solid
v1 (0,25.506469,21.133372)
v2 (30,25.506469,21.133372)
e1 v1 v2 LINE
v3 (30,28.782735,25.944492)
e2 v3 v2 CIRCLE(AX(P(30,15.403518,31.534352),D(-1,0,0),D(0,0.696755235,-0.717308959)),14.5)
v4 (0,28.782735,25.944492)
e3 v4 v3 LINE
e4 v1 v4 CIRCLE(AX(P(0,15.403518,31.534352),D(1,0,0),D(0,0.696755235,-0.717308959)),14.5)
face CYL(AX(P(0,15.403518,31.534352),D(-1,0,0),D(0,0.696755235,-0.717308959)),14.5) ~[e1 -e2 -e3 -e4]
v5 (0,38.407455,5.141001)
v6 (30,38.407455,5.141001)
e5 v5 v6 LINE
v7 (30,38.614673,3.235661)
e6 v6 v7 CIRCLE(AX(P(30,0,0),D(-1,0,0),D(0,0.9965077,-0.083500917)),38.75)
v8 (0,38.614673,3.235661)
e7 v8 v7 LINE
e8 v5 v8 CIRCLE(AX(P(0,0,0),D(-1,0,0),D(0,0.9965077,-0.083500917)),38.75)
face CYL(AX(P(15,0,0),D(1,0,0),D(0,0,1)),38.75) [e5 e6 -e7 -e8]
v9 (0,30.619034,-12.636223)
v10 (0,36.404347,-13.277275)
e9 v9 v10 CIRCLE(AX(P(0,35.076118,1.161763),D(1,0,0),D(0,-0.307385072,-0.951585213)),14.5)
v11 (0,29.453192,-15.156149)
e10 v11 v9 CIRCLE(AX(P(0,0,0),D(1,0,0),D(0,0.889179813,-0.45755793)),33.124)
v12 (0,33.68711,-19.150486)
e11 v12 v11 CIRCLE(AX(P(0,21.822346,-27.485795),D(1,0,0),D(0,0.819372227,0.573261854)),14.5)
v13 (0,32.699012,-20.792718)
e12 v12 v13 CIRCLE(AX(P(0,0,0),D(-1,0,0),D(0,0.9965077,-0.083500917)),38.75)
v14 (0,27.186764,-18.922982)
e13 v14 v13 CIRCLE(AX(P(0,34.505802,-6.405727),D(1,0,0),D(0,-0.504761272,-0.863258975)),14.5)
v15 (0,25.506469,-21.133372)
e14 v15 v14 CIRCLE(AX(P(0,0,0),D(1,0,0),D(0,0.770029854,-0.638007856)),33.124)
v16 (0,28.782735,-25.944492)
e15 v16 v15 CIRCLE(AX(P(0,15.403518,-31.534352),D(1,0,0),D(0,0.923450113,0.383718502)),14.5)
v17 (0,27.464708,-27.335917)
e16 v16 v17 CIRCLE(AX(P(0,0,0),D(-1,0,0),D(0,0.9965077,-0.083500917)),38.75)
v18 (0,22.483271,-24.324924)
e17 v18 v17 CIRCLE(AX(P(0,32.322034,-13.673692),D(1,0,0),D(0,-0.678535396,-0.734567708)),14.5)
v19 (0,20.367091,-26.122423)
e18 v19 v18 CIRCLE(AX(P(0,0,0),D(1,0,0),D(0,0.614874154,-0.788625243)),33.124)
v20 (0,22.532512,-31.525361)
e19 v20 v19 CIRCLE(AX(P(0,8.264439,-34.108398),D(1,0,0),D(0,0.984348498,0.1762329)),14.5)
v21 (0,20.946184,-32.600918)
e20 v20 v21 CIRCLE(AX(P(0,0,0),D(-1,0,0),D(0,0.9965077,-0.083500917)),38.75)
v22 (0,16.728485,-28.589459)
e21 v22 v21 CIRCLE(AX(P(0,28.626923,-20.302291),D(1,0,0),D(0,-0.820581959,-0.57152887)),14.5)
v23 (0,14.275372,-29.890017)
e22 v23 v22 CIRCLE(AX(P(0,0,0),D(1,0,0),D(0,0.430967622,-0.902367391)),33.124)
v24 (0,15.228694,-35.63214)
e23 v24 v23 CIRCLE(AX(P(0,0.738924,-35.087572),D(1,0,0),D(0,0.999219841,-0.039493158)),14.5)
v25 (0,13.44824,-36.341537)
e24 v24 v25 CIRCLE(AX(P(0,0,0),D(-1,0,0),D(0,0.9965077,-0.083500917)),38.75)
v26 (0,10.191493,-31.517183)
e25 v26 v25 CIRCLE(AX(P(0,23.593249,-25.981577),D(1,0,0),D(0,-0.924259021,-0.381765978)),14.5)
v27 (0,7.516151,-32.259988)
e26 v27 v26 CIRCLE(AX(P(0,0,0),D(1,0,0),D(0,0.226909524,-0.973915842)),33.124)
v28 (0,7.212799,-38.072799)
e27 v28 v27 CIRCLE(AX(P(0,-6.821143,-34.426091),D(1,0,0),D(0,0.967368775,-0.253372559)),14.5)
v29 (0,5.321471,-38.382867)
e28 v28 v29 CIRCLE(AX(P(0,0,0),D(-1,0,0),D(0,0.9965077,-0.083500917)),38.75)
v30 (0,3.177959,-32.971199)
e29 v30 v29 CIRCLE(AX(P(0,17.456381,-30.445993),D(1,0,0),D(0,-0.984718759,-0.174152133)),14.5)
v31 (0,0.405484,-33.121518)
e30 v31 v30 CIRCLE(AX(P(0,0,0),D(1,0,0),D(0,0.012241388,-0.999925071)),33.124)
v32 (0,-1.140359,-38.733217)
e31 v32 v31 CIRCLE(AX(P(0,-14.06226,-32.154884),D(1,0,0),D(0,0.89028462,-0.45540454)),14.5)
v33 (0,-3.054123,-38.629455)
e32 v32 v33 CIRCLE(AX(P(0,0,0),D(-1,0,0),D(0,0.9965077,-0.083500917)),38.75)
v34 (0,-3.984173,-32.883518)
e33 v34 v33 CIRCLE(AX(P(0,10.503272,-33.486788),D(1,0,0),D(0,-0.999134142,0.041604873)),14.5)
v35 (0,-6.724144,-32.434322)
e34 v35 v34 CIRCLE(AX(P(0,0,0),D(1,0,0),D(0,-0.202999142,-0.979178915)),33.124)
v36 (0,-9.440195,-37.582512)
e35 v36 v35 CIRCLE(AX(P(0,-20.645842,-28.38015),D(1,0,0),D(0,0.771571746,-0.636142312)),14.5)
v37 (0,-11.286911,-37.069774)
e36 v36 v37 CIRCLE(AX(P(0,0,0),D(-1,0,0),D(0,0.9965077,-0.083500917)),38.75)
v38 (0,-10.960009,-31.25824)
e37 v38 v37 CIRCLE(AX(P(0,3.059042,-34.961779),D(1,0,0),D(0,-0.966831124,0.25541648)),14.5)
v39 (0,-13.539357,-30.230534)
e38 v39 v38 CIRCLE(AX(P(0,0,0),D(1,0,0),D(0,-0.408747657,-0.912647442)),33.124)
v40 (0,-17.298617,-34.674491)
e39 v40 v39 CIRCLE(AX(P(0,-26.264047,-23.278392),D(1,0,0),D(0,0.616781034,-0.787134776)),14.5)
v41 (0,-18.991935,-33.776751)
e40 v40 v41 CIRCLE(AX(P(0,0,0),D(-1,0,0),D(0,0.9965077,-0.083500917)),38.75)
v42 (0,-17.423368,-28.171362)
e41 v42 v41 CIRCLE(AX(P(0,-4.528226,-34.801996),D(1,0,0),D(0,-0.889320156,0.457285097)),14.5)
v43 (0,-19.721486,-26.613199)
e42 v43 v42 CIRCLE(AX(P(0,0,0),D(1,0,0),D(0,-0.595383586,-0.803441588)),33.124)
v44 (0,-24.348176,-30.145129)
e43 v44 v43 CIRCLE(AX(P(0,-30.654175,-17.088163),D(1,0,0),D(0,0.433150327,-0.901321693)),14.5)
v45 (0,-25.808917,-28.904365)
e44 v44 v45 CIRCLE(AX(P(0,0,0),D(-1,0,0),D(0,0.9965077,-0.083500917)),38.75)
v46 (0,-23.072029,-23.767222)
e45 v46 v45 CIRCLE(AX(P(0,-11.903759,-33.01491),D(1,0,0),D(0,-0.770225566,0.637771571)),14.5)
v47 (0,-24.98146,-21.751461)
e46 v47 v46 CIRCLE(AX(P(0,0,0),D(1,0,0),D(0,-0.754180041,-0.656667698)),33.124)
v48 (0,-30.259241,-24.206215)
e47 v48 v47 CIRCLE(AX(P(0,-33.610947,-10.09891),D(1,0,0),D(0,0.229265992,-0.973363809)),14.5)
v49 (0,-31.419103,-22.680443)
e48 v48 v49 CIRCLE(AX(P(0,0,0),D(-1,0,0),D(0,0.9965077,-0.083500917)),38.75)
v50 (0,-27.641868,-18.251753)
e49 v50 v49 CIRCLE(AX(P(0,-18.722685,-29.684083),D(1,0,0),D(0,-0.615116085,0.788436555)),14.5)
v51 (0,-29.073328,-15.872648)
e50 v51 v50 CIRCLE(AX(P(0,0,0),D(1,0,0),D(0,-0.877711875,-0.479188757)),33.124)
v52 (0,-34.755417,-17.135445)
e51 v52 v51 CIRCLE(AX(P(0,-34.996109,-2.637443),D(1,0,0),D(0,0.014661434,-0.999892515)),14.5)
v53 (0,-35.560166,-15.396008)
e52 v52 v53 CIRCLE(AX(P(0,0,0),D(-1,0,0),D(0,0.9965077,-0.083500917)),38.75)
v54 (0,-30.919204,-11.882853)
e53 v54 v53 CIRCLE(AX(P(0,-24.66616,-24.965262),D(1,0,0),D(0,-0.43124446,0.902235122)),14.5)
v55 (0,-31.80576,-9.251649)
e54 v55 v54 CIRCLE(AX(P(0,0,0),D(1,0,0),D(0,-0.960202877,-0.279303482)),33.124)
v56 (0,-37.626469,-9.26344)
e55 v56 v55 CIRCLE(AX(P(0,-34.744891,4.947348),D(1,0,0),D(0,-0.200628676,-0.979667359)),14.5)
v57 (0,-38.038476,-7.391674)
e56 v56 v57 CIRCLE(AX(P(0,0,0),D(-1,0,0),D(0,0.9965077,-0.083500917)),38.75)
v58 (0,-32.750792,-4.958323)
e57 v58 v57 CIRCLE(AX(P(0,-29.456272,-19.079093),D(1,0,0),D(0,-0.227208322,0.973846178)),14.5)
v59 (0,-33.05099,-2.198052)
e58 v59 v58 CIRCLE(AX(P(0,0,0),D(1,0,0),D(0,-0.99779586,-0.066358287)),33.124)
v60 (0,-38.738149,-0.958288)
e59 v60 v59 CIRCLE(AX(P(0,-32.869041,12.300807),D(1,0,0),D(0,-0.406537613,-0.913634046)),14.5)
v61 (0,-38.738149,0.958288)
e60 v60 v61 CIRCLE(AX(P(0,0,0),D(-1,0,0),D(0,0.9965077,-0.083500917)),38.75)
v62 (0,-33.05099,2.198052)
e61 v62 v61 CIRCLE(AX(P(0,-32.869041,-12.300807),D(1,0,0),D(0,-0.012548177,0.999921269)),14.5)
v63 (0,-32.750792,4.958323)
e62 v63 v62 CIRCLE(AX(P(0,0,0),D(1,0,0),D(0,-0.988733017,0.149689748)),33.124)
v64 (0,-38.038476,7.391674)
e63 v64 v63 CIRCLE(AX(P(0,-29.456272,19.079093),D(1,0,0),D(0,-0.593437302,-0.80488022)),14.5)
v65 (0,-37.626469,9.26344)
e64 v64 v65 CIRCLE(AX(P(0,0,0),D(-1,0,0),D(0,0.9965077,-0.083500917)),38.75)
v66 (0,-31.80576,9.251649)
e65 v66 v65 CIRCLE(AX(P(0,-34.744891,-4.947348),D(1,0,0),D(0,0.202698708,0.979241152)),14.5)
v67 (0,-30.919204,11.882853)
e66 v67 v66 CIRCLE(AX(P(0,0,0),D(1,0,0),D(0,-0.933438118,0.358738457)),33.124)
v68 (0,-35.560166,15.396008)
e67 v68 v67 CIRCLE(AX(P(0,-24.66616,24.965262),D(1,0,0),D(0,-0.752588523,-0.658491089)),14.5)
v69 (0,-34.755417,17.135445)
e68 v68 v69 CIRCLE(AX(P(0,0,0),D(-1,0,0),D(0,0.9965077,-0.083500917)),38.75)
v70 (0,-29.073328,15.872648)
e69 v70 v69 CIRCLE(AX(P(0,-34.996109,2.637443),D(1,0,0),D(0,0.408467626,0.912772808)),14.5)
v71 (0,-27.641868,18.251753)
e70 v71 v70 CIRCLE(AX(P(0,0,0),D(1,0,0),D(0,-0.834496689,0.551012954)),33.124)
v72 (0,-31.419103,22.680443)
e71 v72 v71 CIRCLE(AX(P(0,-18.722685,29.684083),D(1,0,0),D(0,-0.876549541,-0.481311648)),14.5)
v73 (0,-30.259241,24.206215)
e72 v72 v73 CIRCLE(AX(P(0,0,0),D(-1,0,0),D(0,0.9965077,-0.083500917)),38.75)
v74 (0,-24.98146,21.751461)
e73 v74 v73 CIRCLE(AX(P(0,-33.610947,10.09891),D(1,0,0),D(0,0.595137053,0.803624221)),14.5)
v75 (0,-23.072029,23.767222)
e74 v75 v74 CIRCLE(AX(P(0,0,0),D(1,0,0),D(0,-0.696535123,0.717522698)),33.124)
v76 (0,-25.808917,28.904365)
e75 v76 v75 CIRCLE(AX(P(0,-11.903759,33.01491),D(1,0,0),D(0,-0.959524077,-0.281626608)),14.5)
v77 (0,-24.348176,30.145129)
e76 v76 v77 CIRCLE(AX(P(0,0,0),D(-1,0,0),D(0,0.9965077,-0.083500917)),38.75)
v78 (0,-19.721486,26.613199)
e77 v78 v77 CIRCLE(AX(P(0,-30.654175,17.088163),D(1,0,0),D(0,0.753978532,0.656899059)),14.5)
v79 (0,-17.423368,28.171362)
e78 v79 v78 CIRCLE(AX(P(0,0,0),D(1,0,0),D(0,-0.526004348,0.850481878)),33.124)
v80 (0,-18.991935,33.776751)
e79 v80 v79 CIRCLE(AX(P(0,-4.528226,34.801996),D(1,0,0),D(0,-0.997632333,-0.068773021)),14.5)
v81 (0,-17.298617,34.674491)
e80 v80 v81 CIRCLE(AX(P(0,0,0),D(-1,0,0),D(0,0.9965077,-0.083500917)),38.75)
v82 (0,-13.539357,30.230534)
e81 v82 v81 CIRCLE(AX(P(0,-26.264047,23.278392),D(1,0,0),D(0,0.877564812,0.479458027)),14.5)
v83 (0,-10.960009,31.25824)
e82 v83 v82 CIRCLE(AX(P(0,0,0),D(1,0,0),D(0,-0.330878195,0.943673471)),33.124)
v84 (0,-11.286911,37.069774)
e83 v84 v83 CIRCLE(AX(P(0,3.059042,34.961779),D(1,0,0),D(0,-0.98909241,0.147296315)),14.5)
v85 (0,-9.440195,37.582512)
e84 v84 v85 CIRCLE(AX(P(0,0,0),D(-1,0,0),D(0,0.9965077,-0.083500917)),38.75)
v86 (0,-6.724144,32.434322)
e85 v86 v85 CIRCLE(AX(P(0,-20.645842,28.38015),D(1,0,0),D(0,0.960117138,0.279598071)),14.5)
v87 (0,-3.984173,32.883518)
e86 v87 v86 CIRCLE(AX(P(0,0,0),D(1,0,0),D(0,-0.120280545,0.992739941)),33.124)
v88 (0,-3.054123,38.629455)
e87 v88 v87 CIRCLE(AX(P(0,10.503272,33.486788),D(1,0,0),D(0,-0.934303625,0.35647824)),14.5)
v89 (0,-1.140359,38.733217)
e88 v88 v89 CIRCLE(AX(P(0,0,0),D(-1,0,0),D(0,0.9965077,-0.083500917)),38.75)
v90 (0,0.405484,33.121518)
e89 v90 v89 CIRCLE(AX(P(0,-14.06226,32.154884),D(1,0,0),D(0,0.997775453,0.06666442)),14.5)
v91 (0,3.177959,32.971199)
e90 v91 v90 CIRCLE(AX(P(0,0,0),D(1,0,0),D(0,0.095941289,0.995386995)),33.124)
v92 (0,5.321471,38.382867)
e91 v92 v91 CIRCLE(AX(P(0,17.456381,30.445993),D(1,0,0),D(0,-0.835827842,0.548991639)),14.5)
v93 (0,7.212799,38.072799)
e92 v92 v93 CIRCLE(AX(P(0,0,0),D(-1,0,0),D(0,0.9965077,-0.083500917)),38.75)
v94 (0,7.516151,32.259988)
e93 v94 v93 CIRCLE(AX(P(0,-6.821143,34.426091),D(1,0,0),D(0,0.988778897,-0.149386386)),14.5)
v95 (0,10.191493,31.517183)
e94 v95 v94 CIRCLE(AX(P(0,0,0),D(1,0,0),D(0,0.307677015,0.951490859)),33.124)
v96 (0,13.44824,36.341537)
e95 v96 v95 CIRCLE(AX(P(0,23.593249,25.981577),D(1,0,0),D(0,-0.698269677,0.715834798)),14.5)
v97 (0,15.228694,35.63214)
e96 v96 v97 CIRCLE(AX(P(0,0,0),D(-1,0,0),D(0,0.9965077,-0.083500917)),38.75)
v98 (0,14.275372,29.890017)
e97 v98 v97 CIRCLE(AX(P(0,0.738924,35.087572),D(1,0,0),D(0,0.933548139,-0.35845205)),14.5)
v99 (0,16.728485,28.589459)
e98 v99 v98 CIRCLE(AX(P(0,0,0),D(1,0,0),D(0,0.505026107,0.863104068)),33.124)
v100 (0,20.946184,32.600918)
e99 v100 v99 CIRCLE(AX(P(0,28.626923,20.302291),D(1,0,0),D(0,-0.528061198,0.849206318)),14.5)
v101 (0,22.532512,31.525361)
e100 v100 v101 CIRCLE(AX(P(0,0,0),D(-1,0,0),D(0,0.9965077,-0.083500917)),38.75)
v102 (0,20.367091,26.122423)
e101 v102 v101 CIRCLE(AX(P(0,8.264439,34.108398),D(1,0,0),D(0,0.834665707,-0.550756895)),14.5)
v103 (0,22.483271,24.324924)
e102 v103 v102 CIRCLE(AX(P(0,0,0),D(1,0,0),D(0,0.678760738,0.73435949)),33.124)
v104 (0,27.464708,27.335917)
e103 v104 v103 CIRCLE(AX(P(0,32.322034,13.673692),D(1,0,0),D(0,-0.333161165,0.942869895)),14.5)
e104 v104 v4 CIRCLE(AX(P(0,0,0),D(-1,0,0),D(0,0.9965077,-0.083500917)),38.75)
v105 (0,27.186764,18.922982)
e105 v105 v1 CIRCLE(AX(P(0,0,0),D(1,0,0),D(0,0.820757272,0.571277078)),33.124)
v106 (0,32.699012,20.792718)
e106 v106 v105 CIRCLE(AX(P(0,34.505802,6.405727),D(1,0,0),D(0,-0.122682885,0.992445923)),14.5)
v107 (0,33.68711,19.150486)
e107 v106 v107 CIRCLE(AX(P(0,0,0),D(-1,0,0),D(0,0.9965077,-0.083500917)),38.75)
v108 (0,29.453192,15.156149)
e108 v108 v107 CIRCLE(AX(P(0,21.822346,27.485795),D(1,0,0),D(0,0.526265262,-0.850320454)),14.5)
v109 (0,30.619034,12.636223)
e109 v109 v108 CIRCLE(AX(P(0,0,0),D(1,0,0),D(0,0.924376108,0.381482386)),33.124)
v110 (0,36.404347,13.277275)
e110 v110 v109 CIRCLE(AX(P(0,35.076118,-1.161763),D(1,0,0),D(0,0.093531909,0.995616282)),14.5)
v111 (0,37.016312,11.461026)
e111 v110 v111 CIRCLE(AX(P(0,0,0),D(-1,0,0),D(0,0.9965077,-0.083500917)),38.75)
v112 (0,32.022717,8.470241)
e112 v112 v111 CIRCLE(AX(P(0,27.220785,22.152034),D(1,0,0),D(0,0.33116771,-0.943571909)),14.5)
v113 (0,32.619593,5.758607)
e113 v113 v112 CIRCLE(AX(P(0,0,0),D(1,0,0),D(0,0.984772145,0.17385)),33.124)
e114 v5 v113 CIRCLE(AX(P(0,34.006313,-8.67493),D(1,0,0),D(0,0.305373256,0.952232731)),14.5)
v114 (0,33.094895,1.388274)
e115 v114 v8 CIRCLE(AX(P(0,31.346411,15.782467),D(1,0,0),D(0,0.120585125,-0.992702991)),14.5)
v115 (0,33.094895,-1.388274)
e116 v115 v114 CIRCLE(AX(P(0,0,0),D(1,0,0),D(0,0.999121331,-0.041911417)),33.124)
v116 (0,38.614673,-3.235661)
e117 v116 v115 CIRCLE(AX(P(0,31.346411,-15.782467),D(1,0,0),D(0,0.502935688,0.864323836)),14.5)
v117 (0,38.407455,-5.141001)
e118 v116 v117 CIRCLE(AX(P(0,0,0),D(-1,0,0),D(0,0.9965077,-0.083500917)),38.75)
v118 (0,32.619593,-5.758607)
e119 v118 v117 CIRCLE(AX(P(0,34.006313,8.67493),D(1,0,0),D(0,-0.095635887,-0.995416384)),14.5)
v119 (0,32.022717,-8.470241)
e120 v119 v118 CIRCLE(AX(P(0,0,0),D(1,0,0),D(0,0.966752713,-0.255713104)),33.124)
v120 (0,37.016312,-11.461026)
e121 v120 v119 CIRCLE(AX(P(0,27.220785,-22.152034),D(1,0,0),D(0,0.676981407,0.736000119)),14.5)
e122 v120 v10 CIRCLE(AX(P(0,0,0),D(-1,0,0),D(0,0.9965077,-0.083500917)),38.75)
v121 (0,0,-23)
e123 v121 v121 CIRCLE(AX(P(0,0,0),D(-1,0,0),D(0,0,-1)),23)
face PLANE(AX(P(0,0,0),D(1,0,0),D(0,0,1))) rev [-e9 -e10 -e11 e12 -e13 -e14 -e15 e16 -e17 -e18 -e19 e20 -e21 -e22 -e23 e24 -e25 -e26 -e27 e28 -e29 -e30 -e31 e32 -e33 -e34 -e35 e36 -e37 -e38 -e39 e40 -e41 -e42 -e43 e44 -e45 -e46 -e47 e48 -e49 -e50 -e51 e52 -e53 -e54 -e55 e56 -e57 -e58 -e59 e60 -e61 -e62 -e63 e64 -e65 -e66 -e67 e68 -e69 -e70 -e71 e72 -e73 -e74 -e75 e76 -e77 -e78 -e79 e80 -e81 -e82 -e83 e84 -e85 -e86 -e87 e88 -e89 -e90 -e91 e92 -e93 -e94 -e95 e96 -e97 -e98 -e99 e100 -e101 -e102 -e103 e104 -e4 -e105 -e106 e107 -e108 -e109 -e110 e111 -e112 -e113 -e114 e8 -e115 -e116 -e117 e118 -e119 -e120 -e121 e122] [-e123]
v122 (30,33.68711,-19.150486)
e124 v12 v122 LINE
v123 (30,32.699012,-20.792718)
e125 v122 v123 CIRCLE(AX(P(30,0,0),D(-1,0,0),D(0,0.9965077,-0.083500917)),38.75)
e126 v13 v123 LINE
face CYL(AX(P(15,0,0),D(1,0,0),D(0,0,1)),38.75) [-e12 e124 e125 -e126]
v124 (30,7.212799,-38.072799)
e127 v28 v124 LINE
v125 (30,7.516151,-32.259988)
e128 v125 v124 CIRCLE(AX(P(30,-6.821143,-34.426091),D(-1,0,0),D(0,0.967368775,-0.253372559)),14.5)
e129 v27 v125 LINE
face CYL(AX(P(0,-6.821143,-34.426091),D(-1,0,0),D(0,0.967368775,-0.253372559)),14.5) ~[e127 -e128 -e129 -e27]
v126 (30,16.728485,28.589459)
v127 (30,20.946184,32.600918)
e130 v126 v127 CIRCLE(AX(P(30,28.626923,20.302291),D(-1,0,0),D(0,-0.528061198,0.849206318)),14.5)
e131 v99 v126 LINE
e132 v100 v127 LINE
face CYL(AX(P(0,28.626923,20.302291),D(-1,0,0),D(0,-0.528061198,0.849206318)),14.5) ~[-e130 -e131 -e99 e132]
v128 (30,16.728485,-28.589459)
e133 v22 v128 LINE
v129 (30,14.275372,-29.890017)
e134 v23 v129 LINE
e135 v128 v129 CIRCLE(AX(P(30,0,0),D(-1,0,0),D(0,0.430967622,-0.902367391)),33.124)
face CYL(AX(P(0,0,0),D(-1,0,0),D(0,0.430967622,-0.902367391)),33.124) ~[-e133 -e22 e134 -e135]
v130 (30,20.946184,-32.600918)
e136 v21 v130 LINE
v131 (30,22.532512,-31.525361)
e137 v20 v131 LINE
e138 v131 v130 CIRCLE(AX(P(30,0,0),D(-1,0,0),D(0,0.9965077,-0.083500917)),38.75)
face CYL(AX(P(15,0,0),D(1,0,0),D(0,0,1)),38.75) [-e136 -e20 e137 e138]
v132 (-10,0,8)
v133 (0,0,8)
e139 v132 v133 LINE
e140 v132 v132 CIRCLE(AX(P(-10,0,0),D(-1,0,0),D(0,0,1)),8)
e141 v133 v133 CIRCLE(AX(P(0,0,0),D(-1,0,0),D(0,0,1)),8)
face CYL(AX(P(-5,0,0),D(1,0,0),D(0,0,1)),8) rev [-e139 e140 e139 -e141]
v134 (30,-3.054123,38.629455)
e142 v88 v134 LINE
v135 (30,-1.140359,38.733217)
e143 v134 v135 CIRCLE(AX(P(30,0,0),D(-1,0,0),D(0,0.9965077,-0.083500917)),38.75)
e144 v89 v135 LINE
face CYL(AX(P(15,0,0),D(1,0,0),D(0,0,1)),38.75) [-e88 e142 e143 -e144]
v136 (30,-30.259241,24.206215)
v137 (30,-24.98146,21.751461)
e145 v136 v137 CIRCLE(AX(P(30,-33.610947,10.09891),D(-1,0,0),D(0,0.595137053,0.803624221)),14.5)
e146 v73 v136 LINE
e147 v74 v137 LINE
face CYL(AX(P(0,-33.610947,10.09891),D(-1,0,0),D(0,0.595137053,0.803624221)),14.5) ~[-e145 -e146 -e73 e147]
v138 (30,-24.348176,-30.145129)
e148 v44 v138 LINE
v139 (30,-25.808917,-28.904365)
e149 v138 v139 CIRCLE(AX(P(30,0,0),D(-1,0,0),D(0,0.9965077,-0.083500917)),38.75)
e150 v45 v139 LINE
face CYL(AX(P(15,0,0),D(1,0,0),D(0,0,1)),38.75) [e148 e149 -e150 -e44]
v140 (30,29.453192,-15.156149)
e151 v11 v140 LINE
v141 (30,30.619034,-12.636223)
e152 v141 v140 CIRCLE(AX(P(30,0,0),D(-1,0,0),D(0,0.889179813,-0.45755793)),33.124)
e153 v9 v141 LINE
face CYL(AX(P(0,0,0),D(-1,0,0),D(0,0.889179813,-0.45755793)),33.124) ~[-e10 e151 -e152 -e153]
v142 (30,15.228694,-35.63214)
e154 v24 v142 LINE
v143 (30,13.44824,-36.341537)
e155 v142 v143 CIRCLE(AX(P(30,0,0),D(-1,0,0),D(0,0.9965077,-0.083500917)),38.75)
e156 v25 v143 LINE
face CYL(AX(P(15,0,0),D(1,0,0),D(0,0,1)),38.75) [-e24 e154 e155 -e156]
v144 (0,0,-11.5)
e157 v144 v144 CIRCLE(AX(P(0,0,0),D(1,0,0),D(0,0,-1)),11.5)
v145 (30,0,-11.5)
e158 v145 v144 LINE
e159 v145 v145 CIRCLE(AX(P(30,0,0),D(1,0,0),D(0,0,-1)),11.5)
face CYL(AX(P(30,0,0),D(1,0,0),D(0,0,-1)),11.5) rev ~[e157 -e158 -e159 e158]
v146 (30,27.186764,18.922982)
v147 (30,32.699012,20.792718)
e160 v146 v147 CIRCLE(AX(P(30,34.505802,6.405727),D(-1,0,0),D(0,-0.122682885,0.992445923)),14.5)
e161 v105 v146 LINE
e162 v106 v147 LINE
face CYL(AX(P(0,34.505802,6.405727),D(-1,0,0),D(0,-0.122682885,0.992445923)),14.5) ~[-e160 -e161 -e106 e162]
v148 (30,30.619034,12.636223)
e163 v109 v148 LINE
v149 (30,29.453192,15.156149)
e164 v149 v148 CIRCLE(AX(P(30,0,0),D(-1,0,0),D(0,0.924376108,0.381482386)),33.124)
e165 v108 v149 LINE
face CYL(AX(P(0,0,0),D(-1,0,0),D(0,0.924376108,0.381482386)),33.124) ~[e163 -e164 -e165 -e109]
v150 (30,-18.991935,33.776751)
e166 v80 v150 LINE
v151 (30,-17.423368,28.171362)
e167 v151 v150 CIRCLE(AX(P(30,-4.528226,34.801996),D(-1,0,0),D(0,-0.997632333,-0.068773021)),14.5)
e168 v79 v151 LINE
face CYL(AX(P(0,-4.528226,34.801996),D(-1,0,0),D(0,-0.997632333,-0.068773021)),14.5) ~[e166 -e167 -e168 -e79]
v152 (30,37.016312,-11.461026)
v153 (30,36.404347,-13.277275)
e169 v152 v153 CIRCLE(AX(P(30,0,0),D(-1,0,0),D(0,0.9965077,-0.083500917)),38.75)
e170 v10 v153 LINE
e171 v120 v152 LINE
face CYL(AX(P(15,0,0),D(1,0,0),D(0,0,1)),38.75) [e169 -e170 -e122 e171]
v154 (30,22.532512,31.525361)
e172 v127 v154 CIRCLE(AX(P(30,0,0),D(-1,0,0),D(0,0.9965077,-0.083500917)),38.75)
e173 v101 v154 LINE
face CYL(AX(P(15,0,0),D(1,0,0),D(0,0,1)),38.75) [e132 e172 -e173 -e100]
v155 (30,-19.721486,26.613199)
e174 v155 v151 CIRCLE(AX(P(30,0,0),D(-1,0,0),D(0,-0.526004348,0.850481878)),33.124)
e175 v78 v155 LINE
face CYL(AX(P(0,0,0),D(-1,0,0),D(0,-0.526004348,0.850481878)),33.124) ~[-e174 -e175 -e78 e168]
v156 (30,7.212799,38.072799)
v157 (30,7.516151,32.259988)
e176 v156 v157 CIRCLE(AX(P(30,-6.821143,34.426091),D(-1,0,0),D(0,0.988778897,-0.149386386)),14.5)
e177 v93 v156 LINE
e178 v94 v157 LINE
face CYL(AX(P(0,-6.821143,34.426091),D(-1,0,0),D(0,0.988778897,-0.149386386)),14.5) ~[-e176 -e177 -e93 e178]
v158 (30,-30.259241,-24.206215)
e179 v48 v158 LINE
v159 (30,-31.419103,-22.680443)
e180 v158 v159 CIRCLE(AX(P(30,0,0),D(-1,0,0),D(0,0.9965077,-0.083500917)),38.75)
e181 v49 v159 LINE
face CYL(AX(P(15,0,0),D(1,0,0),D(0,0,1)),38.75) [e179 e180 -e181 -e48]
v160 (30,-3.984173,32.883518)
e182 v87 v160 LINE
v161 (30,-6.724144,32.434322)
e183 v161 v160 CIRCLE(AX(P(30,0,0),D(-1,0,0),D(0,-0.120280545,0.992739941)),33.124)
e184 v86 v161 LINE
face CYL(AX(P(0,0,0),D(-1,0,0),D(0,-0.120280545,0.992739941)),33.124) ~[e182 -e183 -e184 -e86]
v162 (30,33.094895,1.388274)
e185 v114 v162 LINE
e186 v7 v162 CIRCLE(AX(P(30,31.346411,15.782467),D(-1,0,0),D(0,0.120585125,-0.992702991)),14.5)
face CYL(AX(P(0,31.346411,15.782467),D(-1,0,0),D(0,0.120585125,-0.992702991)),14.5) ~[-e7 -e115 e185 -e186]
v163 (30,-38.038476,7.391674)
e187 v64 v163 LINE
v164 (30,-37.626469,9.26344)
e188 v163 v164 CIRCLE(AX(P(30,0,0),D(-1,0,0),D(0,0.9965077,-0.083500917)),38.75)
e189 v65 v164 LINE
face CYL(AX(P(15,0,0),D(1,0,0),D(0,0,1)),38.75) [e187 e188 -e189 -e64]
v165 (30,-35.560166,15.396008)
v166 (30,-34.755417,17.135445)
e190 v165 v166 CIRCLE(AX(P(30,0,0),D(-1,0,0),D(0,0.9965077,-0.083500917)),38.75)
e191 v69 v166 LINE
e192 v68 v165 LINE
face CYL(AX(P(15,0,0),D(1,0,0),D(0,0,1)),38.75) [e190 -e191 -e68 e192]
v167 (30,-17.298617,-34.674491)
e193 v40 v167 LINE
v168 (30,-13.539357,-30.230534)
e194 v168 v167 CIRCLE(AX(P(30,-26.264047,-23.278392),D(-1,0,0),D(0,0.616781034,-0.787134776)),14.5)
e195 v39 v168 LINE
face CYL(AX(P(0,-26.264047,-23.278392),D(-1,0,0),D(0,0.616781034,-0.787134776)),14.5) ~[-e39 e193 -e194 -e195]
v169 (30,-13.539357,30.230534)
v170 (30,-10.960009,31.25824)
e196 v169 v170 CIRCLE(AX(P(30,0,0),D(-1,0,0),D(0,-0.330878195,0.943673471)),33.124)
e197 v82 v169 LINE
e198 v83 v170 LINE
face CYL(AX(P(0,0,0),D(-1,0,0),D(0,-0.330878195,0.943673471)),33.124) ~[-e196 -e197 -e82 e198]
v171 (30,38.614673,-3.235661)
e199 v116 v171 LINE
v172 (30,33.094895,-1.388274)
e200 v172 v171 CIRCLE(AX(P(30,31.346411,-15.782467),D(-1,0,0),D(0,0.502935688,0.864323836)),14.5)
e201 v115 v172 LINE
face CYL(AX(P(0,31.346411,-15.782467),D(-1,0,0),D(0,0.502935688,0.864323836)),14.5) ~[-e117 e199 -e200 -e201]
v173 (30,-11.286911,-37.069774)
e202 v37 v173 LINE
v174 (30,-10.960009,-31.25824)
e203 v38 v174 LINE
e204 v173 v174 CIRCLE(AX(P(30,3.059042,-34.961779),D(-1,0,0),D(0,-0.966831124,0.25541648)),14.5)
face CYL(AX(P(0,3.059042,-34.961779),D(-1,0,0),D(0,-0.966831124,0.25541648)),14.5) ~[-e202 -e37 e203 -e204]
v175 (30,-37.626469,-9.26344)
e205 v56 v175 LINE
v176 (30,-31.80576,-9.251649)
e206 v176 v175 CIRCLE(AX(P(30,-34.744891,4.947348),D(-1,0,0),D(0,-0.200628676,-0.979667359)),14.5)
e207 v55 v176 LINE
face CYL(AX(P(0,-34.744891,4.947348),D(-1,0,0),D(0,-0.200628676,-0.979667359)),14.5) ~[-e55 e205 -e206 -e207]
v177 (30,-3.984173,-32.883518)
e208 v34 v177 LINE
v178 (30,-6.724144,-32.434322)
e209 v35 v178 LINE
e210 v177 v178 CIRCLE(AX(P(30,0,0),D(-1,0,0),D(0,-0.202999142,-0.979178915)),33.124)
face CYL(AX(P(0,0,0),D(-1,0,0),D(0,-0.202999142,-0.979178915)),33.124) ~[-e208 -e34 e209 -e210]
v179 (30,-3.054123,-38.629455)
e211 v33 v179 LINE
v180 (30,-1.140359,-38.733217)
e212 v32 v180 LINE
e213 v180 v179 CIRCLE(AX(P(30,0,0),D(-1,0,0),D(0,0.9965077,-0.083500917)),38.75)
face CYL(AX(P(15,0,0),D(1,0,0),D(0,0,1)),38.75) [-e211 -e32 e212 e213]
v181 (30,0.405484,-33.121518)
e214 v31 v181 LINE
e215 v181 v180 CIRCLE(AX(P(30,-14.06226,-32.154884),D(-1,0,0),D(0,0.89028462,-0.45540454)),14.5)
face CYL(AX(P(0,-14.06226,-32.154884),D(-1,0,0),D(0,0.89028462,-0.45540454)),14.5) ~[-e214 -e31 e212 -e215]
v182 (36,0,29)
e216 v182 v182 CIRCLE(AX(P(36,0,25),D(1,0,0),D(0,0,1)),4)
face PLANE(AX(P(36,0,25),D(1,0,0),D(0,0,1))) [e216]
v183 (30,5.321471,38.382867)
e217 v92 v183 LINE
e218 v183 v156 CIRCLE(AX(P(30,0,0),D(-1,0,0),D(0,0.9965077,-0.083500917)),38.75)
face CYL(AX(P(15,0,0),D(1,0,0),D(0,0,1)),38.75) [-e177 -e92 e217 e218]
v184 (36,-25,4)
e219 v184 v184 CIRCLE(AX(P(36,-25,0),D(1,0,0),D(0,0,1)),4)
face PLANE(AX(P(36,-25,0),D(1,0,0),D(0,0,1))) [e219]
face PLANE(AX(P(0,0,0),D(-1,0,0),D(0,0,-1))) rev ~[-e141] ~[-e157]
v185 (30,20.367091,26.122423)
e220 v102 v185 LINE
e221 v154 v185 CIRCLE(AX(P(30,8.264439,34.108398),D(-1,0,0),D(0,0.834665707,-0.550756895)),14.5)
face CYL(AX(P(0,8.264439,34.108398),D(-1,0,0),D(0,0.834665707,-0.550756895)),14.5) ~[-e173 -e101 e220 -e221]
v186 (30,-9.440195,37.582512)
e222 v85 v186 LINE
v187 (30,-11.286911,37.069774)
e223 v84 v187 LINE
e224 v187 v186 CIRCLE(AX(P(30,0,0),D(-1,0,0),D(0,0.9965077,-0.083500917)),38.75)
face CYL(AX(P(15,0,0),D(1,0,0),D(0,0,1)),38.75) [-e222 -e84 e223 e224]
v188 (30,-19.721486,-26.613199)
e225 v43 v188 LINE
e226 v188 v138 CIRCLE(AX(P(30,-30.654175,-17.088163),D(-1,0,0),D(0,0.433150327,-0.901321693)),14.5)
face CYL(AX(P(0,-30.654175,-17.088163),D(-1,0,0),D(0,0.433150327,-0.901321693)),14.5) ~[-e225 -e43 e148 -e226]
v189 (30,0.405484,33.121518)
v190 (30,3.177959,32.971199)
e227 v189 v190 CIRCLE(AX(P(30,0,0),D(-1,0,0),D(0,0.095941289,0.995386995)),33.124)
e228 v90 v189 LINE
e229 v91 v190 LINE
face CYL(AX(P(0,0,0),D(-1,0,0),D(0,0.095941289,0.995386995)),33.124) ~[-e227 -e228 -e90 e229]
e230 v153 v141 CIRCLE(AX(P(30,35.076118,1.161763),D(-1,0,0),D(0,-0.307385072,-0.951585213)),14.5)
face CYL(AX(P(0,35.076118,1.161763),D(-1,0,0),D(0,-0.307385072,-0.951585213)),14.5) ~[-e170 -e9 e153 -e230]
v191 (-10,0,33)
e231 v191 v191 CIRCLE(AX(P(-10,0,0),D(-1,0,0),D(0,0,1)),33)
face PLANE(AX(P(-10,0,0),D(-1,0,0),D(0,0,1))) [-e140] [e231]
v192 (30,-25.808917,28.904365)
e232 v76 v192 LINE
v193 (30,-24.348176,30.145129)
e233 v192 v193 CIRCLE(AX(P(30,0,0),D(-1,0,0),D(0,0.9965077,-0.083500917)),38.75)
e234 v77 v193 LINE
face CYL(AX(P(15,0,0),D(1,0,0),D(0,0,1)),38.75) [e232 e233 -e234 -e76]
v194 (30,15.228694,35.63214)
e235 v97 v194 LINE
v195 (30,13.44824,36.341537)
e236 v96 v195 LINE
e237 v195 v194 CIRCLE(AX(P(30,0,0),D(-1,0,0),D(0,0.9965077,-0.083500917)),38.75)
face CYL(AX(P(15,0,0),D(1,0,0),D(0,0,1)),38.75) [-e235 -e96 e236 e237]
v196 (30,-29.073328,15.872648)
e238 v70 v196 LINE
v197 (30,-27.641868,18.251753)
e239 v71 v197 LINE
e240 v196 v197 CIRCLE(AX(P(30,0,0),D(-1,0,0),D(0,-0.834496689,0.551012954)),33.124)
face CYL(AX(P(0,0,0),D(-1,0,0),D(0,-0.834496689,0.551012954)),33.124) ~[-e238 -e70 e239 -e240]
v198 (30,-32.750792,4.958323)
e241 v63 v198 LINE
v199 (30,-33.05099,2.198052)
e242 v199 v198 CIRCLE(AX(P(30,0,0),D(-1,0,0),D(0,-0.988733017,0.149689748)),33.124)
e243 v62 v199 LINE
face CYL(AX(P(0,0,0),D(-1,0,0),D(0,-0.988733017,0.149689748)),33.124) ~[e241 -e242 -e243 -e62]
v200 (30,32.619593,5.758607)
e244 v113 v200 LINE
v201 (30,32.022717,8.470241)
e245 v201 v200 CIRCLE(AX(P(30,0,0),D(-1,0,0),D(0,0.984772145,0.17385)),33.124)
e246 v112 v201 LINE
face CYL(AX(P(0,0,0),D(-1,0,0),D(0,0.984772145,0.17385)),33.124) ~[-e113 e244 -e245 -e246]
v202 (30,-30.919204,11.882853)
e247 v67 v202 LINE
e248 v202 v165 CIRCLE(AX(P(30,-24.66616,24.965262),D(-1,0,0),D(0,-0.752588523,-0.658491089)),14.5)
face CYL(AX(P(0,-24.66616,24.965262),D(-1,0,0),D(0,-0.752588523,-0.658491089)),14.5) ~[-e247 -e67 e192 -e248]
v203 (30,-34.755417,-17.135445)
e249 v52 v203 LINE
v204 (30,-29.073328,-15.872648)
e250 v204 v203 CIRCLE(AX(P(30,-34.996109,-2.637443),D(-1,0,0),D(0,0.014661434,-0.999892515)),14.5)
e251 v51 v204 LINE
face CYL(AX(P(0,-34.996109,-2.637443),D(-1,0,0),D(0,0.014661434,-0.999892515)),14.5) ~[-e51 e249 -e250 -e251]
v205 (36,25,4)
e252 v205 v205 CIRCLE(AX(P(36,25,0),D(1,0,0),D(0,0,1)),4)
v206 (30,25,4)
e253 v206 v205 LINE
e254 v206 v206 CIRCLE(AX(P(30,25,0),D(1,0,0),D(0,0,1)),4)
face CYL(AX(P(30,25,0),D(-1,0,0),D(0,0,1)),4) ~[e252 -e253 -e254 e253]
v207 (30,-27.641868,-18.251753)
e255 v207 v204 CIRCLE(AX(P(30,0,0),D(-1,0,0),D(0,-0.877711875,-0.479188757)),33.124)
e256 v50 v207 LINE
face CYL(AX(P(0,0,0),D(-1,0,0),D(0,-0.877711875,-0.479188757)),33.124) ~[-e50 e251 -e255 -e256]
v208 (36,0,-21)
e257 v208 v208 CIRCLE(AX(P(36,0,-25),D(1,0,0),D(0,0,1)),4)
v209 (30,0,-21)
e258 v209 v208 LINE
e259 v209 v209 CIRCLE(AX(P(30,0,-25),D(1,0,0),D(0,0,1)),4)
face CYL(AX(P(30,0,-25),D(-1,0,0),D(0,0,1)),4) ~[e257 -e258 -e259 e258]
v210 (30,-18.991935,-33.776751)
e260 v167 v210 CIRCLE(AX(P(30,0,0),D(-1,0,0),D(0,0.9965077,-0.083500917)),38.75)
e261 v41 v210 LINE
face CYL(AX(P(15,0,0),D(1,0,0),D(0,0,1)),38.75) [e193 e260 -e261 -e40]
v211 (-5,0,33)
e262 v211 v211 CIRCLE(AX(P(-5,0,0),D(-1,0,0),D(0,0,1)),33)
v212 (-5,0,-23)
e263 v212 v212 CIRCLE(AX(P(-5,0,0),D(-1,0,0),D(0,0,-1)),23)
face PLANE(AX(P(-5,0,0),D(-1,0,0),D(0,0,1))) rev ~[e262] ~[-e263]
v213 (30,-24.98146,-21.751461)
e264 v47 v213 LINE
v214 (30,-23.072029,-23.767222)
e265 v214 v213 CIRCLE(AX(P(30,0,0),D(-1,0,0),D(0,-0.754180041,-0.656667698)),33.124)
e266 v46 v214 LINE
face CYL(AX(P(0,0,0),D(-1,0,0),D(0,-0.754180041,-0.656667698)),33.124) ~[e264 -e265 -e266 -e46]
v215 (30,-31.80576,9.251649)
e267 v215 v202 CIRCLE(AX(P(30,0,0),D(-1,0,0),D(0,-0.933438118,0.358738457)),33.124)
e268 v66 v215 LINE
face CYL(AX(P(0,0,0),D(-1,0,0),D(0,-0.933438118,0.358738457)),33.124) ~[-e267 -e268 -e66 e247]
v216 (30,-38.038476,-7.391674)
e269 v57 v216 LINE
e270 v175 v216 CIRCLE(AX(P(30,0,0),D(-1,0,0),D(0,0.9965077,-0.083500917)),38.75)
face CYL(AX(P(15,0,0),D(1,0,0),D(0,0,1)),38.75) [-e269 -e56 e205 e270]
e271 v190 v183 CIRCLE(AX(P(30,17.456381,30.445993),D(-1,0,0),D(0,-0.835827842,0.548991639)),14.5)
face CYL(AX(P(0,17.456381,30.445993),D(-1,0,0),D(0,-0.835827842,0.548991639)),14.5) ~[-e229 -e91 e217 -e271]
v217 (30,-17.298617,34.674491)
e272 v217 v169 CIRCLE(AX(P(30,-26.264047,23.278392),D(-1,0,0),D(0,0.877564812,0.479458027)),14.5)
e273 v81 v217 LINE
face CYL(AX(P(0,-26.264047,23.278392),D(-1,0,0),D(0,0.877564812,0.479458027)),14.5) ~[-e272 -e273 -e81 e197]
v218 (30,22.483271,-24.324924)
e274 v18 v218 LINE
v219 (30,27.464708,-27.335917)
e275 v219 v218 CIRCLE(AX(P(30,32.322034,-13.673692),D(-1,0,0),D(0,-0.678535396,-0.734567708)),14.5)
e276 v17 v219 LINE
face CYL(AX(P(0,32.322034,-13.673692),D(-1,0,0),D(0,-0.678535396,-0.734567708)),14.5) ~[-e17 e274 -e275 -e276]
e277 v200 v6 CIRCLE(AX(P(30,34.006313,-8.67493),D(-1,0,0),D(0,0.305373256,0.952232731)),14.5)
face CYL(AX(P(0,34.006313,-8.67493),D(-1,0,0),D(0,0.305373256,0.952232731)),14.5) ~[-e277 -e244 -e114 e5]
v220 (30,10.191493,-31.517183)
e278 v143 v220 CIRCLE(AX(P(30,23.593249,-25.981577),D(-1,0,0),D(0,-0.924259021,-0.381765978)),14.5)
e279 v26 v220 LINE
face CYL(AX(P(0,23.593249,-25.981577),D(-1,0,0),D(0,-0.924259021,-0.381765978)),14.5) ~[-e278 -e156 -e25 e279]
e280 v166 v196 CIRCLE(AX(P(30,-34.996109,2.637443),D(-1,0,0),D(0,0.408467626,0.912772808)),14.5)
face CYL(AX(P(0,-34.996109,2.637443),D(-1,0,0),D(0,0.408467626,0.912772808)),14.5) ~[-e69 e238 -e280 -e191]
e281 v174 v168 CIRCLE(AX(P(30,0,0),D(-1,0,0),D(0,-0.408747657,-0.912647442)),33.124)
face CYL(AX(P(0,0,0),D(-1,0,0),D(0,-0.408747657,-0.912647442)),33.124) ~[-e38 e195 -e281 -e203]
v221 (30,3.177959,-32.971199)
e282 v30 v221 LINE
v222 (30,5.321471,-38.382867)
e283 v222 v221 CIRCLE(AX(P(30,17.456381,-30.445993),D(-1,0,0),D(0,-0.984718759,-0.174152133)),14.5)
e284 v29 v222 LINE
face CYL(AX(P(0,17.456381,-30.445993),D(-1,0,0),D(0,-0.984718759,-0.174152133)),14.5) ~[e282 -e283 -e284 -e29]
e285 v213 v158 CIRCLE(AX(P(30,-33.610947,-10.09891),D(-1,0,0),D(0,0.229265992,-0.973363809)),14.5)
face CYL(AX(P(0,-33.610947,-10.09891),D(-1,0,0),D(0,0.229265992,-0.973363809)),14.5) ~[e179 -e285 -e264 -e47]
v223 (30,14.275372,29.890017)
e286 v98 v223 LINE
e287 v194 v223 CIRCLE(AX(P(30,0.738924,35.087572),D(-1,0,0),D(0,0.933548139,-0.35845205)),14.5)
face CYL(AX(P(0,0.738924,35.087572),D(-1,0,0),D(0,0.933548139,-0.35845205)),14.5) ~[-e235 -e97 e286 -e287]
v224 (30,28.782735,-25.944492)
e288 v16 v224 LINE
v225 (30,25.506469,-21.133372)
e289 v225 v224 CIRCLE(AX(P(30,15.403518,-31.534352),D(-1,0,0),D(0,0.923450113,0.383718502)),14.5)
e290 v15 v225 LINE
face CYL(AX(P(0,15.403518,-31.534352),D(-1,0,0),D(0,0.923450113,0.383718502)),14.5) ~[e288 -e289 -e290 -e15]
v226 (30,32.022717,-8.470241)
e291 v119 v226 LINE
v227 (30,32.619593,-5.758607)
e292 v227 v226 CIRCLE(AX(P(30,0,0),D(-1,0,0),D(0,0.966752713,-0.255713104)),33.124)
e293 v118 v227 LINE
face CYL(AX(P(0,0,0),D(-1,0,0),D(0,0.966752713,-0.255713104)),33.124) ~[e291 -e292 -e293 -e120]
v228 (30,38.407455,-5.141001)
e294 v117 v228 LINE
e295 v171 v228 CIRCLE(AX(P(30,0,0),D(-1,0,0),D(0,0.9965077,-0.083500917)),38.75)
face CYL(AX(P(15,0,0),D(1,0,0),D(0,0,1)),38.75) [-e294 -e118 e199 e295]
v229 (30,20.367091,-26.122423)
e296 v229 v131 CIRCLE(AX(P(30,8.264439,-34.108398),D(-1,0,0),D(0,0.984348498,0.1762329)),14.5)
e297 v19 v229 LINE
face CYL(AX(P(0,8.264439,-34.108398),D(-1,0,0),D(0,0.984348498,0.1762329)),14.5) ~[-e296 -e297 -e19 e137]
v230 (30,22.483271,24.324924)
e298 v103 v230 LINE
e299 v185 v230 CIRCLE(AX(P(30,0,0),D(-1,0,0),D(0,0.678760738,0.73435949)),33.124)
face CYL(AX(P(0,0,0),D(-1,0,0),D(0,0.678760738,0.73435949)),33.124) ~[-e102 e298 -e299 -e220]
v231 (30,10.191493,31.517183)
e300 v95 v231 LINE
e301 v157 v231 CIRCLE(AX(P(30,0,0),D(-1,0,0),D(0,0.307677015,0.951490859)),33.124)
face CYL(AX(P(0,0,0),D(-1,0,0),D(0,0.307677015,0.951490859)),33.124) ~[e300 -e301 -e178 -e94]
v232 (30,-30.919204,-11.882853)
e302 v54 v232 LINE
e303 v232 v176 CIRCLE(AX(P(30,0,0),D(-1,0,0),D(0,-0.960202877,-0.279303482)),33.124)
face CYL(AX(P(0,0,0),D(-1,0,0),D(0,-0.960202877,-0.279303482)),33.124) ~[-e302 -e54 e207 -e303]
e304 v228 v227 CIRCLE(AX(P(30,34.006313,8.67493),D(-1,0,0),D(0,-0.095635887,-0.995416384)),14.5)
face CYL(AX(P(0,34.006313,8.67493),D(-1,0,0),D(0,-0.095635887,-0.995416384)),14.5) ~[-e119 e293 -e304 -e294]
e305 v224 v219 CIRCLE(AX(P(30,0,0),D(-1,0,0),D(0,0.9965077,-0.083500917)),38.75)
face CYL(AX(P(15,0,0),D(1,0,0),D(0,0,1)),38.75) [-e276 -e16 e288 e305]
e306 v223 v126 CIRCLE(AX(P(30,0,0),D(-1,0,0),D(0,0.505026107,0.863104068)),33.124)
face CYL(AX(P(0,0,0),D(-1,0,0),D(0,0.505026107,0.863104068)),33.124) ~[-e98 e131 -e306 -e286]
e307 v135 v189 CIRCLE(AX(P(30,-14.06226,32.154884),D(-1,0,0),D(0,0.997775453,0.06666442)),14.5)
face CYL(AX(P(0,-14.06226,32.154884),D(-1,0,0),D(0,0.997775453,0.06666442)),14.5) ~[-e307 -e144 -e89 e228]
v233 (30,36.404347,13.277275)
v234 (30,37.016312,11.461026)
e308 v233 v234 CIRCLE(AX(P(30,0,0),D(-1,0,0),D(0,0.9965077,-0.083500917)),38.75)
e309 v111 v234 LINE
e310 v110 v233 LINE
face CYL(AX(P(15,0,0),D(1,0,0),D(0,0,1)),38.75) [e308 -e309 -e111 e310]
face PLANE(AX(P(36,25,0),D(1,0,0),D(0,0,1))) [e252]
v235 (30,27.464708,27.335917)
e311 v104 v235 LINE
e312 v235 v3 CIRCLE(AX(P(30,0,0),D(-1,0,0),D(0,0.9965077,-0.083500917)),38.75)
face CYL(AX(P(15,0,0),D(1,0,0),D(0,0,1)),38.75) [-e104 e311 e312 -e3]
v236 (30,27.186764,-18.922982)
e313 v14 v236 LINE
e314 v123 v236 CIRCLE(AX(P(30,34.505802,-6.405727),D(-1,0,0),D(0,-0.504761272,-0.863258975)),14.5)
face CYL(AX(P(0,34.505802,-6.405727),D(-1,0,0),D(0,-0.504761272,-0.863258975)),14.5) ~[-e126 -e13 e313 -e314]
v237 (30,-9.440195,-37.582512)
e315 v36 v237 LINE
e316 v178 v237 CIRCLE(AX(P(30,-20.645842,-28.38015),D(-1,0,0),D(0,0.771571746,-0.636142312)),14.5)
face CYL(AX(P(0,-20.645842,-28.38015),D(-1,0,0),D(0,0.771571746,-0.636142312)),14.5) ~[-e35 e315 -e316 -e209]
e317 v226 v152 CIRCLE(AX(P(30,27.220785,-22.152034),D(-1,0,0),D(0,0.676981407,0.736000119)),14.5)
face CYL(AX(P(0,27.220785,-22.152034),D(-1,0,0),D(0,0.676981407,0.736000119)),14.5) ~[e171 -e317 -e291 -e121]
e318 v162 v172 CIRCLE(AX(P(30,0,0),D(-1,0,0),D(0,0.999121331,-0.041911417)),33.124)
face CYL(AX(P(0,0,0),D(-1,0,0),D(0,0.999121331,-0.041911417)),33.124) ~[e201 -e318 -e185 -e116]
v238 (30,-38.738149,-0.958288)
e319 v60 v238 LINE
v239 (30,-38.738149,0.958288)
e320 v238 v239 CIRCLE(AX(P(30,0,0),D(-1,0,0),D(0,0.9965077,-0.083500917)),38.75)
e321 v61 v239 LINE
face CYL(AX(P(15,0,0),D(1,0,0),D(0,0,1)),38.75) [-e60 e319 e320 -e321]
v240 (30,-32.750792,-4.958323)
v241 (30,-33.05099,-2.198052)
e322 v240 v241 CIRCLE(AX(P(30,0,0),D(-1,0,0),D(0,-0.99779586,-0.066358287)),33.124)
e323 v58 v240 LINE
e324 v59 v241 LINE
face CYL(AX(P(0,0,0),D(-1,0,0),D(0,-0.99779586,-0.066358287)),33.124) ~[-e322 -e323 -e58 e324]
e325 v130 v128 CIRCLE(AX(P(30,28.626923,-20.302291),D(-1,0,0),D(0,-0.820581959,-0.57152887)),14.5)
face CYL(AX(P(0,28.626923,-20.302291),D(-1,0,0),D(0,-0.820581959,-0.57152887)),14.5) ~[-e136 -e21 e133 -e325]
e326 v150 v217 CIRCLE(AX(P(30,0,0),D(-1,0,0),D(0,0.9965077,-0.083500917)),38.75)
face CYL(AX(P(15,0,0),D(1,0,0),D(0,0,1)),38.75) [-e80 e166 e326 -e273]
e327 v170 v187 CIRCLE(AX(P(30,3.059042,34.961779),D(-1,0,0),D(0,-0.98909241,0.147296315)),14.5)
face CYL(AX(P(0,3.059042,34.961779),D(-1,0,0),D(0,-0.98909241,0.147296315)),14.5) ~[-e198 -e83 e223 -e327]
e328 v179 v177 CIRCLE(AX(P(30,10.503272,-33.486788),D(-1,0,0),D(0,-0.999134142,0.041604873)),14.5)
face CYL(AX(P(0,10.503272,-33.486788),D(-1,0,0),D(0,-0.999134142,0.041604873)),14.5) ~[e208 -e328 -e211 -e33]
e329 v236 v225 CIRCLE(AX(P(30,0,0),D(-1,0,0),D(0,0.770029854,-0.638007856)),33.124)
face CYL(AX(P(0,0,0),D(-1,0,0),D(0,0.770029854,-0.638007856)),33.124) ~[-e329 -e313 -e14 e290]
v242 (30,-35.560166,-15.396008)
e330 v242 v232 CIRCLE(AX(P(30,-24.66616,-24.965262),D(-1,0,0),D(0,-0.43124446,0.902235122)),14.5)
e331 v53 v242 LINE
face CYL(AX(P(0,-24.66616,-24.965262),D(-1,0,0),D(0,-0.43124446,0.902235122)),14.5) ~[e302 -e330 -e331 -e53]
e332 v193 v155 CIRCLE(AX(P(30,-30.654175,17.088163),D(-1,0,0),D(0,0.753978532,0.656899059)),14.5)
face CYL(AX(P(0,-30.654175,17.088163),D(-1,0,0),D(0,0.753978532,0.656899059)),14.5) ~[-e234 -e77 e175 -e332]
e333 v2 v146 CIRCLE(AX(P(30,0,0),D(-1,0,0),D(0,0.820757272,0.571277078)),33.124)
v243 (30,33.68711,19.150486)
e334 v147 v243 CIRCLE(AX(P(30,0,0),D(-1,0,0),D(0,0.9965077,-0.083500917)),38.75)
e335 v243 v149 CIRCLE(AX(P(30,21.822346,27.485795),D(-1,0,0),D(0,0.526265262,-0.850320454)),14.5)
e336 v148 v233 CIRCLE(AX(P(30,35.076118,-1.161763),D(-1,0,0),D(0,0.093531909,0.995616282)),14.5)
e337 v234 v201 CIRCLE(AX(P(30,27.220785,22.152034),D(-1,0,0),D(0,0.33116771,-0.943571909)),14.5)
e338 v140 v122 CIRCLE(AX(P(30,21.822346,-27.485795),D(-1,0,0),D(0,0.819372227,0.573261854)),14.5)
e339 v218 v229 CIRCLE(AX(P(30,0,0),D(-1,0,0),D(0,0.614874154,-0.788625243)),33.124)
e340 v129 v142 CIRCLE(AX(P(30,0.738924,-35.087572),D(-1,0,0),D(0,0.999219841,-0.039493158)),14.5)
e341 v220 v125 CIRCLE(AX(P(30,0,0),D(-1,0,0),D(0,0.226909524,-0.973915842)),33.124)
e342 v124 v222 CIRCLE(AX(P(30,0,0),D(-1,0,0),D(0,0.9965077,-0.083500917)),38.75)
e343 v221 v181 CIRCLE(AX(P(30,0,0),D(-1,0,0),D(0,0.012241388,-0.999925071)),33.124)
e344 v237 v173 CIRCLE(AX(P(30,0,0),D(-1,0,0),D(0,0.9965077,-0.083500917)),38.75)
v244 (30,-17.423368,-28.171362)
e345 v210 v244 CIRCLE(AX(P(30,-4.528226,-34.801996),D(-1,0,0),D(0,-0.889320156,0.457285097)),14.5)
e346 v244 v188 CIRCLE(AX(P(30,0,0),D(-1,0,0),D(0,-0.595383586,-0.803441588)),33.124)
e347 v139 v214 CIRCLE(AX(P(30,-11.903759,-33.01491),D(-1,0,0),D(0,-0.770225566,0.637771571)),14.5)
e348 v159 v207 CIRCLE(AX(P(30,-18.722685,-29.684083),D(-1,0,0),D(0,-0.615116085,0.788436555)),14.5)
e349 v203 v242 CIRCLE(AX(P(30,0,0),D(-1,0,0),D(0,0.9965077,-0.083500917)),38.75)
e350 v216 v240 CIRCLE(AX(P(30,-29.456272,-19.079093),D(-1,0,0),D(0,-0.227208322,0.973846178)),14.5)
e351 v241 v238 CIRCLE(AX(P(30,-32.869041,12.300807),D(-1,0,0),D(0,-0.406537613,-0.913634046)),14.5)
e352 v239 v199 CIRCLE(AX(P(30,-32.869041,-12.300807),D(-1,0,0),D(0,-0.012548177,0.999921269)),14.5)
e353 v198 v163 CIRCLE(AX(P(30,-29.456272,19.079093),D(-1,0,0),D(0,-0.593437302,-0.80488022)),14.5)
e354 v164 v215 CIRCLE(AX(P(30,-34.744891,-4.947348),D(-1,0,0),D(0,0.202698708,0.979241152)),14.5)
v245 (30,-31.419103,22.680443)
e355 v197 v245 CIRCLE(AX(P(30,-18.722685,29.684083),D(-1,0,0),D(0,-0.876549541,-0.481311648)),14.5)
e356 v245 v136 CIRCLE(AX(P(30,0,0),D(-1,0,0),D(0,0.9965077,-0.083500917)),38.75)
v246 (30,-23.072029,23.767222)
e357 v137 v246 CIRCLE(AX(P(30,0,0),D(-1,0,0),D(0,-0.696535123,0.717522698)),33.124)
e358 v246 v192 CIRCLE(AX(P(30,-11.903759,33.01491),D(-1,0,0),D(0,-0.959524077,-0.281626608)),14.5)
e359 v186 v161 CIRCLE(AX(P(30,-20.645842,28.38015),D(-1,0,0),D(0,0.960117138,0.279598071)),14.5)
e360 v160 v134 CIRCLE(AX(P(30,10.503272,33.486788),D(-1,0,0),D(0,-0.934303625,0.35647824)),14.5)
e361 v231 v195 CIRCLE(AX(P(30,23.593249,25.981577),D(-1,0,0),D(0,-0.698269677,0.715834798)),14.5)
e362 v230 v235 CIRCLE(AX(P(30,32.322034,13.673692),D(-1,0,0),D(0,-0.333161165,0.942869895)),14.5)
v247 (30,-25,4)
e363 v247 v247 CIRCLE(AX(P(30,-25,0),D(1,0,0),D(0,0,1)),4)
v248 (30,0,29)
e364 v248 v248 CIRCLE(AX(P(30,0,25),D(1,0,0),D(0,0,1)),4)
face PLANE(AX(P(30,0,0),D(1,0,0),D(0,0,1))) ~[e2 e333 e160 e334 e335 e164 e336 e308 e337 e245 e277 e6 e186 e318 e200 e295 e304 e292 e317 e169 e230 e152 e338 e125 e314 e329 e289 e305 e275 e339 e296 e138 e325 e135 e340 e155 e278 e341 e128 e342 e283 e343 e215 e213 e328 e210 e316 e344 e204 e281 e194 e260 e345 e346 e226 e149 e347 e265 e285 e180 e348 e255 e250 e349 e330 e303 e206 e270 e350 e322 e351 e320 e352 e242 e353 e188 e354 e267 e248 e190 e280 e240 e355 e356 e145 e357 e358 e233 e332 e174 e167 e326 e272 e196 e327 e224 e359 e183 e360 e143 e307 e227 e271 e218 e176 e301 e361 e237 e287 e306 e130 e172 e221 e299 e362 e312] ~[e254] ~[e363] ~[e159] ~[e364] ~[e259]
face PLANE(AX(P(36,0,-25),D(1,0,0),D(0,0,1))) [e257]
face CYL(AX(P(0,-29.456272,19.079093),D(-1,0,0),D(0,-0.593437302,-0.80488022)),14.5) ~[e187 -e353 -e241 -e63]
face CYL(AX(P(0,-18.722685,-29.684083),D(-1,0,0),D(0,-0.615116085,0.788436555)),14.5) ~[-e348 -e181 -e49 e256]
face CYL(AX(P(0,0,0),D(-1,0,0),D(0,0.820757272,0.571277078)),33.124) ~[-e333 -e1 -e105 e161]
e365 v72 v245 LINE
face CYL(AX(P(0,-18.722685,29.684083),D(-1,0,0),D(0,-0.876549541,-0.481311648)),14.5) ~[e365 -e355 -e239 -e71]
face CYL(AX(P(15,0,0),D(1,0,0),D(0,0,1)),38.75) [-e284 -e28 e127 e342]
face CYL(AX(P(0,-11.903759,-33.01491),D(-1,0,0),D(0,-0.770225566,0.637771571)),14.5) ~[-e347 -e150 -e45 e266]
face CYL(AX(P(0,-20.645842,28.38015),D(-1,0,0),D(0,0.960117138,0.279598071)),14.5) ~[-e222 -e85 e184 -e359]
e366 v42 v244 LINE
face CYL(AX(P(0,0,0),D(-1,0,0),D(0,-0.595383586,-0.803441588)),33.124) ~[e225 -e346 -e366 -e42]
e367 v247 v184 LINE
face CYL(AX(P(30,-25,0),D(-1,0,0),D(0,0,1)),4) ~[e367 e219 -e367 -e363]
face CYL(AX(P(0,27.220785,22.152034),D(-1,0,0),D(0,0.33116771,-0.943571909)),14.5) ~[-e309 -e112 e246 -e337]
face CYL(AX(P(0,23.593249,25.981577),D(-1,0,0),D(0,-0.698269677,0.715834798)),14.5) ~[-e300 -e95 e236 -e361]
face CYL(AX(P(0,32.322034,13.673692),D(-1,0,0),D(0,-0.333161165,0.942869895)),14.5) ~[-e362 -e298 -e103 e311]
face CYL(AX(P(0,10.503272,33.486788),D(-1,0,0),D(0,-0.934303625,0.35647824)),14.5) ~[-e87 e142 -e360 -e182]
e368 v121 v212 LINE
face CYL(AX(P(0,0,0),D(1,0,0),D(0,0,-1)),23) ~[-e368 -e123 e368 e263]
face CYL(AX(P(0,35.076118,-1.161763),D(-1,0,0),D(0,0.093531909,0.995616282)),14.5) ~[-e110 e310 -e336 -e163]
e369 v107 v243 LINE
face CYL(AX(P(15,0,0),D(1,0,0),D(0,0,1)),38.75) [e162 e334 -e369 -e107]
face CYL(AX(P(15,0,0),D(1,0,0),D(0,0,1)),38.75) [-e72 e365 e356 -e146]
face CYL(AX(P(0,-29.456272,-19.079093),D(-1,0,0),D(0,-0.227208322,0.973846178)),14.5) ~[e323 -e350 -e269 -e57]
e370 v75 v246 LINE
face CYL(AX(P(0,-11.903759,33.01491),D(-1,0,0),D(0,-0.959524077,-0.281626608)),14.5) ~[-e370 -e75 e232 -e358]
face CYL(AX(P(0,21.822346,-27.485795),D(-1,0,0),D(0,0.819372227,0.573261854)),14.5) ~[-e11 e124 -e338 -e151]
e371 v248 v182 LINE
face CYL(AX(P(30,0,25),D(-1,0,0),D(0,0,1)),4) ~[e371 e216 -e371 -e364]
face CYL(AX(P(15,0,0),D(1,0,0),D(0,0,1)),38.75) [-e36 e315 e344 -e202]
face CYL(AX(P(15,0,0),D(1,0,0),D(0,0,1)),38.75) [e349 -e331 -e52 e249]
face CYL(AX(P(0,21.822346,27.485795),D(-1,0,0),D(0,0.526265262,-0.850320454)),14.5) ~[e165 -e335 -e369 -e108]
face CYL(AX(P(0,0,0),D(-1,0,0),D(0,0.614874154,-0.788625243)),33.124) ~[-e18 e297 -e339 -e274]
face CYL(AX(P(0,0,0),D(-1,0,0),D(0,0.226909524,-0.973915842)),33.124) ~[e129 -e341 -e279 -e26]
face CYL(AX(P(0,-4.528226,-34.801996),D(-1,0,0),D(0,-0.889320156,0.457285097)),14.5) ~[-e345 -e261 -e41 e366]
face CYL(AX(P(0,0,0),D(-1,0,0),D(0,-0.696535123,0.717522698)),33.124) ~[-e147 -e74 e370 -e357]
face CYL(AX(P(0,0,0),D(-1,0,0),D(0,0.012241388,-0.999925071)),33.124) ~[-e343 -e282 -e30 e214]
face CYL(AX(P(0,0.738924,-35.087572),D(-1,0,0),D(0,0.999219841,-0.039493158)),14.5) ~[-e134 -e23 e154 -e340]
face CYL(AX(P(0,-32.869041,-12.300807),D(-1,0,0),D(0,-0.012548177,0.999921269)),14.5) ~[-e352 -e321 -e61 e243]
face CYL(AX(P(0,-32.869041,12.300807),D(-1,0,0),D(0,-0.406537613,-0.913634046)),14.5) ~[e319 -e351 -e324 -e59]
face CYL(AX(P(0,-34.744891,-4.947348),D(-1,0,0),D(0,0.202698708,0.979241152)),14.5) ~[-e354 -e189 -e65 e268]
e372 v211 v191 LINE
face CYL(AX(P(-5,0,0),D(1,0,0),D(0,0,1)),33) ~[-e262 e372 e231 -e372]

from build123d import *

# Parameters (mm, degrees)
BASPROSKE_W             = 30
BASPROSKE_H             = 38.75
TOOTHCUT_DEPTH          = 63.474994998
TEETHCUTS_COUNT         = 29
TEETHCUTS_ANGLE         = 347.586206897
BORSKE_R                = 6
BORE_DEPTH              = 50.0000508
ESQUISSE1_R             = 4
BOSS_EXTRU_1_DEPTH      = 6
ESQUISSE2_R             = 11.5
ENL_V_MAT_EXTRU_1_DEPTH = 63.46458662
ESQUISSE3_R             = 23
ESQUISSE3_R_2           = 8
BOSS_EXTRU_2_DEPTH      = 5
ESQUISSE4_R             = 33
ESQUISSE4_R_2           = 8
BOSS_EXTRU_3_DEPTH      = 5


with BuildPart() as part:
    # BasProSke → Base-Revolve (revolve)
    with BuildSketch(Plane(origin=(0, 0, 0), x_dir=(1, 0, 0), z_dir=(0, 1, 0)), mode=Mode.PRIVATE) as base_revolve_sk:
        with Locations((15, 19.375)):
            Rectangle(BASPROSKE_W, BASPROSKE_H)
    revolve(base_revolve_sk.sketch.rotate(Axis((-10, 0, 0), (1, 0, 0)), 180), axis=Axis((-10, 0, 0), (1, 0, 0)))

    # TooCutSke → ToothCut (cut, through all)
    with BuildSketch(Plane(origin=(0, 0, 0), x_dir=(0, 0, -1), z_dir=(1, 0, 0))):
        with BuildLine():
            ThreePointArc((1.38827379, 33.094894952), (0, 33.124), (-1.38827379, 33.094894952))
            ThreePointArc((-1.38827379, 33.094894952), (-2.036611336, 35.961759797), (-3.249771531, 38.63897812))
            ThreePointArc((-3.249771531, 38.63897812), (0, 38.7754), (3.249771531, 38.63897812))
            ThreePointArc((3.249771531, 38.63897812), (2.036611336, 35.961759797), (1.38827379, 33.094894952))
        make_face()
    toothcut = extrude(amount=TOOTHCUT_DEPTH, mode=Mode.SUBTRACT)

    # TeethCuts: ToothCut ×29 about axis
    teethcuts_axis = Axis((-10, 0, 0), (1, 0, 0))
    for i in range(1, TEETHCUTS_COUNT):
        add(toothcut.rotate(teethcuts_axis, i * TEETHCUTS_ANGLE / (TEETHCUTS_COUNT - 1)), mode=Mode.SUBTRACT)

    # BorSke → Bore (cut, symmetric)
    with BuildSketch(Plane(origin=(0, 0, 0), x_dir=(0, 0, -1), z_dir=(1, 0, 0))):
        with Locations(Location((0, 0, 0), (0, 0, 180))):
            Circle(BORSKE_R)
    extrude(amount=BORE_DEPTH, both=True, mode=Mode.SUBTRACT)

    # Esquisse1 → Boss.-Extru.1 (add)
    with BuildSketch(Plane(origin=(30, 0, 0), x_dir=(0, 0, -1), z_dir=(1, 0, 0))):
        with Locations(Location((0, 25, 0), (0, 0, 180))):
            Circle(ESQUISSE1_R)
        with Locations(Location((-25, 0, 0), (0, 0, 180))):
            Circle(ESQUISSE1_R)
        with Locations(Location((25, 0, 0), (0, 0, 180))):
            Circle(ESQUISSE1_R)
        with Locations(Location((0, -25, 0), (0, 0, 180))):
            Circle(ESQUISSE1_R)
    extrude(amount=BOSS_EXTRU_1_DEPTH)

    # Esquisse2 → Enlèv. mat.-Extru.1 (cut, through all)
    with BuildSketch(Plane(origin=(30, 0, 0), x_dir=(0, 0, -1), z_dir=(1, 0, 0))):
        Circle(ESQUISSE2_R)
    extrude(amount=-ENL_V_MAT_EXTRU_1_DEPTH, mode=Mode.SUBTRACT)

    # Esquisse3 → Boss.-Extru.2 (add)
    with BuildSketch(Plane.ZY):
        with Locations(Location((0, 0, 0), (0, 0, 180))):
            Circle(ESQUISSE3_R)
        Circle(ESQUISSE3_R_2, mode=Mode.SUBTRACT)
    extrude(amount=BOSS_EXTRU_2_DEPTH)

    # Esquisse4 → Boss.-Extru.3 (add)
    with BuildSketch(Plane.ZY.offset(5)):
        Circle(ESQUISSE4_R)
        Circle(ESQUISSE4_R_2, mode=Mode.SUBTRACT)
    extrude(amount=BOSS_EXTRU_3_DEPTH)


solid = part.part
